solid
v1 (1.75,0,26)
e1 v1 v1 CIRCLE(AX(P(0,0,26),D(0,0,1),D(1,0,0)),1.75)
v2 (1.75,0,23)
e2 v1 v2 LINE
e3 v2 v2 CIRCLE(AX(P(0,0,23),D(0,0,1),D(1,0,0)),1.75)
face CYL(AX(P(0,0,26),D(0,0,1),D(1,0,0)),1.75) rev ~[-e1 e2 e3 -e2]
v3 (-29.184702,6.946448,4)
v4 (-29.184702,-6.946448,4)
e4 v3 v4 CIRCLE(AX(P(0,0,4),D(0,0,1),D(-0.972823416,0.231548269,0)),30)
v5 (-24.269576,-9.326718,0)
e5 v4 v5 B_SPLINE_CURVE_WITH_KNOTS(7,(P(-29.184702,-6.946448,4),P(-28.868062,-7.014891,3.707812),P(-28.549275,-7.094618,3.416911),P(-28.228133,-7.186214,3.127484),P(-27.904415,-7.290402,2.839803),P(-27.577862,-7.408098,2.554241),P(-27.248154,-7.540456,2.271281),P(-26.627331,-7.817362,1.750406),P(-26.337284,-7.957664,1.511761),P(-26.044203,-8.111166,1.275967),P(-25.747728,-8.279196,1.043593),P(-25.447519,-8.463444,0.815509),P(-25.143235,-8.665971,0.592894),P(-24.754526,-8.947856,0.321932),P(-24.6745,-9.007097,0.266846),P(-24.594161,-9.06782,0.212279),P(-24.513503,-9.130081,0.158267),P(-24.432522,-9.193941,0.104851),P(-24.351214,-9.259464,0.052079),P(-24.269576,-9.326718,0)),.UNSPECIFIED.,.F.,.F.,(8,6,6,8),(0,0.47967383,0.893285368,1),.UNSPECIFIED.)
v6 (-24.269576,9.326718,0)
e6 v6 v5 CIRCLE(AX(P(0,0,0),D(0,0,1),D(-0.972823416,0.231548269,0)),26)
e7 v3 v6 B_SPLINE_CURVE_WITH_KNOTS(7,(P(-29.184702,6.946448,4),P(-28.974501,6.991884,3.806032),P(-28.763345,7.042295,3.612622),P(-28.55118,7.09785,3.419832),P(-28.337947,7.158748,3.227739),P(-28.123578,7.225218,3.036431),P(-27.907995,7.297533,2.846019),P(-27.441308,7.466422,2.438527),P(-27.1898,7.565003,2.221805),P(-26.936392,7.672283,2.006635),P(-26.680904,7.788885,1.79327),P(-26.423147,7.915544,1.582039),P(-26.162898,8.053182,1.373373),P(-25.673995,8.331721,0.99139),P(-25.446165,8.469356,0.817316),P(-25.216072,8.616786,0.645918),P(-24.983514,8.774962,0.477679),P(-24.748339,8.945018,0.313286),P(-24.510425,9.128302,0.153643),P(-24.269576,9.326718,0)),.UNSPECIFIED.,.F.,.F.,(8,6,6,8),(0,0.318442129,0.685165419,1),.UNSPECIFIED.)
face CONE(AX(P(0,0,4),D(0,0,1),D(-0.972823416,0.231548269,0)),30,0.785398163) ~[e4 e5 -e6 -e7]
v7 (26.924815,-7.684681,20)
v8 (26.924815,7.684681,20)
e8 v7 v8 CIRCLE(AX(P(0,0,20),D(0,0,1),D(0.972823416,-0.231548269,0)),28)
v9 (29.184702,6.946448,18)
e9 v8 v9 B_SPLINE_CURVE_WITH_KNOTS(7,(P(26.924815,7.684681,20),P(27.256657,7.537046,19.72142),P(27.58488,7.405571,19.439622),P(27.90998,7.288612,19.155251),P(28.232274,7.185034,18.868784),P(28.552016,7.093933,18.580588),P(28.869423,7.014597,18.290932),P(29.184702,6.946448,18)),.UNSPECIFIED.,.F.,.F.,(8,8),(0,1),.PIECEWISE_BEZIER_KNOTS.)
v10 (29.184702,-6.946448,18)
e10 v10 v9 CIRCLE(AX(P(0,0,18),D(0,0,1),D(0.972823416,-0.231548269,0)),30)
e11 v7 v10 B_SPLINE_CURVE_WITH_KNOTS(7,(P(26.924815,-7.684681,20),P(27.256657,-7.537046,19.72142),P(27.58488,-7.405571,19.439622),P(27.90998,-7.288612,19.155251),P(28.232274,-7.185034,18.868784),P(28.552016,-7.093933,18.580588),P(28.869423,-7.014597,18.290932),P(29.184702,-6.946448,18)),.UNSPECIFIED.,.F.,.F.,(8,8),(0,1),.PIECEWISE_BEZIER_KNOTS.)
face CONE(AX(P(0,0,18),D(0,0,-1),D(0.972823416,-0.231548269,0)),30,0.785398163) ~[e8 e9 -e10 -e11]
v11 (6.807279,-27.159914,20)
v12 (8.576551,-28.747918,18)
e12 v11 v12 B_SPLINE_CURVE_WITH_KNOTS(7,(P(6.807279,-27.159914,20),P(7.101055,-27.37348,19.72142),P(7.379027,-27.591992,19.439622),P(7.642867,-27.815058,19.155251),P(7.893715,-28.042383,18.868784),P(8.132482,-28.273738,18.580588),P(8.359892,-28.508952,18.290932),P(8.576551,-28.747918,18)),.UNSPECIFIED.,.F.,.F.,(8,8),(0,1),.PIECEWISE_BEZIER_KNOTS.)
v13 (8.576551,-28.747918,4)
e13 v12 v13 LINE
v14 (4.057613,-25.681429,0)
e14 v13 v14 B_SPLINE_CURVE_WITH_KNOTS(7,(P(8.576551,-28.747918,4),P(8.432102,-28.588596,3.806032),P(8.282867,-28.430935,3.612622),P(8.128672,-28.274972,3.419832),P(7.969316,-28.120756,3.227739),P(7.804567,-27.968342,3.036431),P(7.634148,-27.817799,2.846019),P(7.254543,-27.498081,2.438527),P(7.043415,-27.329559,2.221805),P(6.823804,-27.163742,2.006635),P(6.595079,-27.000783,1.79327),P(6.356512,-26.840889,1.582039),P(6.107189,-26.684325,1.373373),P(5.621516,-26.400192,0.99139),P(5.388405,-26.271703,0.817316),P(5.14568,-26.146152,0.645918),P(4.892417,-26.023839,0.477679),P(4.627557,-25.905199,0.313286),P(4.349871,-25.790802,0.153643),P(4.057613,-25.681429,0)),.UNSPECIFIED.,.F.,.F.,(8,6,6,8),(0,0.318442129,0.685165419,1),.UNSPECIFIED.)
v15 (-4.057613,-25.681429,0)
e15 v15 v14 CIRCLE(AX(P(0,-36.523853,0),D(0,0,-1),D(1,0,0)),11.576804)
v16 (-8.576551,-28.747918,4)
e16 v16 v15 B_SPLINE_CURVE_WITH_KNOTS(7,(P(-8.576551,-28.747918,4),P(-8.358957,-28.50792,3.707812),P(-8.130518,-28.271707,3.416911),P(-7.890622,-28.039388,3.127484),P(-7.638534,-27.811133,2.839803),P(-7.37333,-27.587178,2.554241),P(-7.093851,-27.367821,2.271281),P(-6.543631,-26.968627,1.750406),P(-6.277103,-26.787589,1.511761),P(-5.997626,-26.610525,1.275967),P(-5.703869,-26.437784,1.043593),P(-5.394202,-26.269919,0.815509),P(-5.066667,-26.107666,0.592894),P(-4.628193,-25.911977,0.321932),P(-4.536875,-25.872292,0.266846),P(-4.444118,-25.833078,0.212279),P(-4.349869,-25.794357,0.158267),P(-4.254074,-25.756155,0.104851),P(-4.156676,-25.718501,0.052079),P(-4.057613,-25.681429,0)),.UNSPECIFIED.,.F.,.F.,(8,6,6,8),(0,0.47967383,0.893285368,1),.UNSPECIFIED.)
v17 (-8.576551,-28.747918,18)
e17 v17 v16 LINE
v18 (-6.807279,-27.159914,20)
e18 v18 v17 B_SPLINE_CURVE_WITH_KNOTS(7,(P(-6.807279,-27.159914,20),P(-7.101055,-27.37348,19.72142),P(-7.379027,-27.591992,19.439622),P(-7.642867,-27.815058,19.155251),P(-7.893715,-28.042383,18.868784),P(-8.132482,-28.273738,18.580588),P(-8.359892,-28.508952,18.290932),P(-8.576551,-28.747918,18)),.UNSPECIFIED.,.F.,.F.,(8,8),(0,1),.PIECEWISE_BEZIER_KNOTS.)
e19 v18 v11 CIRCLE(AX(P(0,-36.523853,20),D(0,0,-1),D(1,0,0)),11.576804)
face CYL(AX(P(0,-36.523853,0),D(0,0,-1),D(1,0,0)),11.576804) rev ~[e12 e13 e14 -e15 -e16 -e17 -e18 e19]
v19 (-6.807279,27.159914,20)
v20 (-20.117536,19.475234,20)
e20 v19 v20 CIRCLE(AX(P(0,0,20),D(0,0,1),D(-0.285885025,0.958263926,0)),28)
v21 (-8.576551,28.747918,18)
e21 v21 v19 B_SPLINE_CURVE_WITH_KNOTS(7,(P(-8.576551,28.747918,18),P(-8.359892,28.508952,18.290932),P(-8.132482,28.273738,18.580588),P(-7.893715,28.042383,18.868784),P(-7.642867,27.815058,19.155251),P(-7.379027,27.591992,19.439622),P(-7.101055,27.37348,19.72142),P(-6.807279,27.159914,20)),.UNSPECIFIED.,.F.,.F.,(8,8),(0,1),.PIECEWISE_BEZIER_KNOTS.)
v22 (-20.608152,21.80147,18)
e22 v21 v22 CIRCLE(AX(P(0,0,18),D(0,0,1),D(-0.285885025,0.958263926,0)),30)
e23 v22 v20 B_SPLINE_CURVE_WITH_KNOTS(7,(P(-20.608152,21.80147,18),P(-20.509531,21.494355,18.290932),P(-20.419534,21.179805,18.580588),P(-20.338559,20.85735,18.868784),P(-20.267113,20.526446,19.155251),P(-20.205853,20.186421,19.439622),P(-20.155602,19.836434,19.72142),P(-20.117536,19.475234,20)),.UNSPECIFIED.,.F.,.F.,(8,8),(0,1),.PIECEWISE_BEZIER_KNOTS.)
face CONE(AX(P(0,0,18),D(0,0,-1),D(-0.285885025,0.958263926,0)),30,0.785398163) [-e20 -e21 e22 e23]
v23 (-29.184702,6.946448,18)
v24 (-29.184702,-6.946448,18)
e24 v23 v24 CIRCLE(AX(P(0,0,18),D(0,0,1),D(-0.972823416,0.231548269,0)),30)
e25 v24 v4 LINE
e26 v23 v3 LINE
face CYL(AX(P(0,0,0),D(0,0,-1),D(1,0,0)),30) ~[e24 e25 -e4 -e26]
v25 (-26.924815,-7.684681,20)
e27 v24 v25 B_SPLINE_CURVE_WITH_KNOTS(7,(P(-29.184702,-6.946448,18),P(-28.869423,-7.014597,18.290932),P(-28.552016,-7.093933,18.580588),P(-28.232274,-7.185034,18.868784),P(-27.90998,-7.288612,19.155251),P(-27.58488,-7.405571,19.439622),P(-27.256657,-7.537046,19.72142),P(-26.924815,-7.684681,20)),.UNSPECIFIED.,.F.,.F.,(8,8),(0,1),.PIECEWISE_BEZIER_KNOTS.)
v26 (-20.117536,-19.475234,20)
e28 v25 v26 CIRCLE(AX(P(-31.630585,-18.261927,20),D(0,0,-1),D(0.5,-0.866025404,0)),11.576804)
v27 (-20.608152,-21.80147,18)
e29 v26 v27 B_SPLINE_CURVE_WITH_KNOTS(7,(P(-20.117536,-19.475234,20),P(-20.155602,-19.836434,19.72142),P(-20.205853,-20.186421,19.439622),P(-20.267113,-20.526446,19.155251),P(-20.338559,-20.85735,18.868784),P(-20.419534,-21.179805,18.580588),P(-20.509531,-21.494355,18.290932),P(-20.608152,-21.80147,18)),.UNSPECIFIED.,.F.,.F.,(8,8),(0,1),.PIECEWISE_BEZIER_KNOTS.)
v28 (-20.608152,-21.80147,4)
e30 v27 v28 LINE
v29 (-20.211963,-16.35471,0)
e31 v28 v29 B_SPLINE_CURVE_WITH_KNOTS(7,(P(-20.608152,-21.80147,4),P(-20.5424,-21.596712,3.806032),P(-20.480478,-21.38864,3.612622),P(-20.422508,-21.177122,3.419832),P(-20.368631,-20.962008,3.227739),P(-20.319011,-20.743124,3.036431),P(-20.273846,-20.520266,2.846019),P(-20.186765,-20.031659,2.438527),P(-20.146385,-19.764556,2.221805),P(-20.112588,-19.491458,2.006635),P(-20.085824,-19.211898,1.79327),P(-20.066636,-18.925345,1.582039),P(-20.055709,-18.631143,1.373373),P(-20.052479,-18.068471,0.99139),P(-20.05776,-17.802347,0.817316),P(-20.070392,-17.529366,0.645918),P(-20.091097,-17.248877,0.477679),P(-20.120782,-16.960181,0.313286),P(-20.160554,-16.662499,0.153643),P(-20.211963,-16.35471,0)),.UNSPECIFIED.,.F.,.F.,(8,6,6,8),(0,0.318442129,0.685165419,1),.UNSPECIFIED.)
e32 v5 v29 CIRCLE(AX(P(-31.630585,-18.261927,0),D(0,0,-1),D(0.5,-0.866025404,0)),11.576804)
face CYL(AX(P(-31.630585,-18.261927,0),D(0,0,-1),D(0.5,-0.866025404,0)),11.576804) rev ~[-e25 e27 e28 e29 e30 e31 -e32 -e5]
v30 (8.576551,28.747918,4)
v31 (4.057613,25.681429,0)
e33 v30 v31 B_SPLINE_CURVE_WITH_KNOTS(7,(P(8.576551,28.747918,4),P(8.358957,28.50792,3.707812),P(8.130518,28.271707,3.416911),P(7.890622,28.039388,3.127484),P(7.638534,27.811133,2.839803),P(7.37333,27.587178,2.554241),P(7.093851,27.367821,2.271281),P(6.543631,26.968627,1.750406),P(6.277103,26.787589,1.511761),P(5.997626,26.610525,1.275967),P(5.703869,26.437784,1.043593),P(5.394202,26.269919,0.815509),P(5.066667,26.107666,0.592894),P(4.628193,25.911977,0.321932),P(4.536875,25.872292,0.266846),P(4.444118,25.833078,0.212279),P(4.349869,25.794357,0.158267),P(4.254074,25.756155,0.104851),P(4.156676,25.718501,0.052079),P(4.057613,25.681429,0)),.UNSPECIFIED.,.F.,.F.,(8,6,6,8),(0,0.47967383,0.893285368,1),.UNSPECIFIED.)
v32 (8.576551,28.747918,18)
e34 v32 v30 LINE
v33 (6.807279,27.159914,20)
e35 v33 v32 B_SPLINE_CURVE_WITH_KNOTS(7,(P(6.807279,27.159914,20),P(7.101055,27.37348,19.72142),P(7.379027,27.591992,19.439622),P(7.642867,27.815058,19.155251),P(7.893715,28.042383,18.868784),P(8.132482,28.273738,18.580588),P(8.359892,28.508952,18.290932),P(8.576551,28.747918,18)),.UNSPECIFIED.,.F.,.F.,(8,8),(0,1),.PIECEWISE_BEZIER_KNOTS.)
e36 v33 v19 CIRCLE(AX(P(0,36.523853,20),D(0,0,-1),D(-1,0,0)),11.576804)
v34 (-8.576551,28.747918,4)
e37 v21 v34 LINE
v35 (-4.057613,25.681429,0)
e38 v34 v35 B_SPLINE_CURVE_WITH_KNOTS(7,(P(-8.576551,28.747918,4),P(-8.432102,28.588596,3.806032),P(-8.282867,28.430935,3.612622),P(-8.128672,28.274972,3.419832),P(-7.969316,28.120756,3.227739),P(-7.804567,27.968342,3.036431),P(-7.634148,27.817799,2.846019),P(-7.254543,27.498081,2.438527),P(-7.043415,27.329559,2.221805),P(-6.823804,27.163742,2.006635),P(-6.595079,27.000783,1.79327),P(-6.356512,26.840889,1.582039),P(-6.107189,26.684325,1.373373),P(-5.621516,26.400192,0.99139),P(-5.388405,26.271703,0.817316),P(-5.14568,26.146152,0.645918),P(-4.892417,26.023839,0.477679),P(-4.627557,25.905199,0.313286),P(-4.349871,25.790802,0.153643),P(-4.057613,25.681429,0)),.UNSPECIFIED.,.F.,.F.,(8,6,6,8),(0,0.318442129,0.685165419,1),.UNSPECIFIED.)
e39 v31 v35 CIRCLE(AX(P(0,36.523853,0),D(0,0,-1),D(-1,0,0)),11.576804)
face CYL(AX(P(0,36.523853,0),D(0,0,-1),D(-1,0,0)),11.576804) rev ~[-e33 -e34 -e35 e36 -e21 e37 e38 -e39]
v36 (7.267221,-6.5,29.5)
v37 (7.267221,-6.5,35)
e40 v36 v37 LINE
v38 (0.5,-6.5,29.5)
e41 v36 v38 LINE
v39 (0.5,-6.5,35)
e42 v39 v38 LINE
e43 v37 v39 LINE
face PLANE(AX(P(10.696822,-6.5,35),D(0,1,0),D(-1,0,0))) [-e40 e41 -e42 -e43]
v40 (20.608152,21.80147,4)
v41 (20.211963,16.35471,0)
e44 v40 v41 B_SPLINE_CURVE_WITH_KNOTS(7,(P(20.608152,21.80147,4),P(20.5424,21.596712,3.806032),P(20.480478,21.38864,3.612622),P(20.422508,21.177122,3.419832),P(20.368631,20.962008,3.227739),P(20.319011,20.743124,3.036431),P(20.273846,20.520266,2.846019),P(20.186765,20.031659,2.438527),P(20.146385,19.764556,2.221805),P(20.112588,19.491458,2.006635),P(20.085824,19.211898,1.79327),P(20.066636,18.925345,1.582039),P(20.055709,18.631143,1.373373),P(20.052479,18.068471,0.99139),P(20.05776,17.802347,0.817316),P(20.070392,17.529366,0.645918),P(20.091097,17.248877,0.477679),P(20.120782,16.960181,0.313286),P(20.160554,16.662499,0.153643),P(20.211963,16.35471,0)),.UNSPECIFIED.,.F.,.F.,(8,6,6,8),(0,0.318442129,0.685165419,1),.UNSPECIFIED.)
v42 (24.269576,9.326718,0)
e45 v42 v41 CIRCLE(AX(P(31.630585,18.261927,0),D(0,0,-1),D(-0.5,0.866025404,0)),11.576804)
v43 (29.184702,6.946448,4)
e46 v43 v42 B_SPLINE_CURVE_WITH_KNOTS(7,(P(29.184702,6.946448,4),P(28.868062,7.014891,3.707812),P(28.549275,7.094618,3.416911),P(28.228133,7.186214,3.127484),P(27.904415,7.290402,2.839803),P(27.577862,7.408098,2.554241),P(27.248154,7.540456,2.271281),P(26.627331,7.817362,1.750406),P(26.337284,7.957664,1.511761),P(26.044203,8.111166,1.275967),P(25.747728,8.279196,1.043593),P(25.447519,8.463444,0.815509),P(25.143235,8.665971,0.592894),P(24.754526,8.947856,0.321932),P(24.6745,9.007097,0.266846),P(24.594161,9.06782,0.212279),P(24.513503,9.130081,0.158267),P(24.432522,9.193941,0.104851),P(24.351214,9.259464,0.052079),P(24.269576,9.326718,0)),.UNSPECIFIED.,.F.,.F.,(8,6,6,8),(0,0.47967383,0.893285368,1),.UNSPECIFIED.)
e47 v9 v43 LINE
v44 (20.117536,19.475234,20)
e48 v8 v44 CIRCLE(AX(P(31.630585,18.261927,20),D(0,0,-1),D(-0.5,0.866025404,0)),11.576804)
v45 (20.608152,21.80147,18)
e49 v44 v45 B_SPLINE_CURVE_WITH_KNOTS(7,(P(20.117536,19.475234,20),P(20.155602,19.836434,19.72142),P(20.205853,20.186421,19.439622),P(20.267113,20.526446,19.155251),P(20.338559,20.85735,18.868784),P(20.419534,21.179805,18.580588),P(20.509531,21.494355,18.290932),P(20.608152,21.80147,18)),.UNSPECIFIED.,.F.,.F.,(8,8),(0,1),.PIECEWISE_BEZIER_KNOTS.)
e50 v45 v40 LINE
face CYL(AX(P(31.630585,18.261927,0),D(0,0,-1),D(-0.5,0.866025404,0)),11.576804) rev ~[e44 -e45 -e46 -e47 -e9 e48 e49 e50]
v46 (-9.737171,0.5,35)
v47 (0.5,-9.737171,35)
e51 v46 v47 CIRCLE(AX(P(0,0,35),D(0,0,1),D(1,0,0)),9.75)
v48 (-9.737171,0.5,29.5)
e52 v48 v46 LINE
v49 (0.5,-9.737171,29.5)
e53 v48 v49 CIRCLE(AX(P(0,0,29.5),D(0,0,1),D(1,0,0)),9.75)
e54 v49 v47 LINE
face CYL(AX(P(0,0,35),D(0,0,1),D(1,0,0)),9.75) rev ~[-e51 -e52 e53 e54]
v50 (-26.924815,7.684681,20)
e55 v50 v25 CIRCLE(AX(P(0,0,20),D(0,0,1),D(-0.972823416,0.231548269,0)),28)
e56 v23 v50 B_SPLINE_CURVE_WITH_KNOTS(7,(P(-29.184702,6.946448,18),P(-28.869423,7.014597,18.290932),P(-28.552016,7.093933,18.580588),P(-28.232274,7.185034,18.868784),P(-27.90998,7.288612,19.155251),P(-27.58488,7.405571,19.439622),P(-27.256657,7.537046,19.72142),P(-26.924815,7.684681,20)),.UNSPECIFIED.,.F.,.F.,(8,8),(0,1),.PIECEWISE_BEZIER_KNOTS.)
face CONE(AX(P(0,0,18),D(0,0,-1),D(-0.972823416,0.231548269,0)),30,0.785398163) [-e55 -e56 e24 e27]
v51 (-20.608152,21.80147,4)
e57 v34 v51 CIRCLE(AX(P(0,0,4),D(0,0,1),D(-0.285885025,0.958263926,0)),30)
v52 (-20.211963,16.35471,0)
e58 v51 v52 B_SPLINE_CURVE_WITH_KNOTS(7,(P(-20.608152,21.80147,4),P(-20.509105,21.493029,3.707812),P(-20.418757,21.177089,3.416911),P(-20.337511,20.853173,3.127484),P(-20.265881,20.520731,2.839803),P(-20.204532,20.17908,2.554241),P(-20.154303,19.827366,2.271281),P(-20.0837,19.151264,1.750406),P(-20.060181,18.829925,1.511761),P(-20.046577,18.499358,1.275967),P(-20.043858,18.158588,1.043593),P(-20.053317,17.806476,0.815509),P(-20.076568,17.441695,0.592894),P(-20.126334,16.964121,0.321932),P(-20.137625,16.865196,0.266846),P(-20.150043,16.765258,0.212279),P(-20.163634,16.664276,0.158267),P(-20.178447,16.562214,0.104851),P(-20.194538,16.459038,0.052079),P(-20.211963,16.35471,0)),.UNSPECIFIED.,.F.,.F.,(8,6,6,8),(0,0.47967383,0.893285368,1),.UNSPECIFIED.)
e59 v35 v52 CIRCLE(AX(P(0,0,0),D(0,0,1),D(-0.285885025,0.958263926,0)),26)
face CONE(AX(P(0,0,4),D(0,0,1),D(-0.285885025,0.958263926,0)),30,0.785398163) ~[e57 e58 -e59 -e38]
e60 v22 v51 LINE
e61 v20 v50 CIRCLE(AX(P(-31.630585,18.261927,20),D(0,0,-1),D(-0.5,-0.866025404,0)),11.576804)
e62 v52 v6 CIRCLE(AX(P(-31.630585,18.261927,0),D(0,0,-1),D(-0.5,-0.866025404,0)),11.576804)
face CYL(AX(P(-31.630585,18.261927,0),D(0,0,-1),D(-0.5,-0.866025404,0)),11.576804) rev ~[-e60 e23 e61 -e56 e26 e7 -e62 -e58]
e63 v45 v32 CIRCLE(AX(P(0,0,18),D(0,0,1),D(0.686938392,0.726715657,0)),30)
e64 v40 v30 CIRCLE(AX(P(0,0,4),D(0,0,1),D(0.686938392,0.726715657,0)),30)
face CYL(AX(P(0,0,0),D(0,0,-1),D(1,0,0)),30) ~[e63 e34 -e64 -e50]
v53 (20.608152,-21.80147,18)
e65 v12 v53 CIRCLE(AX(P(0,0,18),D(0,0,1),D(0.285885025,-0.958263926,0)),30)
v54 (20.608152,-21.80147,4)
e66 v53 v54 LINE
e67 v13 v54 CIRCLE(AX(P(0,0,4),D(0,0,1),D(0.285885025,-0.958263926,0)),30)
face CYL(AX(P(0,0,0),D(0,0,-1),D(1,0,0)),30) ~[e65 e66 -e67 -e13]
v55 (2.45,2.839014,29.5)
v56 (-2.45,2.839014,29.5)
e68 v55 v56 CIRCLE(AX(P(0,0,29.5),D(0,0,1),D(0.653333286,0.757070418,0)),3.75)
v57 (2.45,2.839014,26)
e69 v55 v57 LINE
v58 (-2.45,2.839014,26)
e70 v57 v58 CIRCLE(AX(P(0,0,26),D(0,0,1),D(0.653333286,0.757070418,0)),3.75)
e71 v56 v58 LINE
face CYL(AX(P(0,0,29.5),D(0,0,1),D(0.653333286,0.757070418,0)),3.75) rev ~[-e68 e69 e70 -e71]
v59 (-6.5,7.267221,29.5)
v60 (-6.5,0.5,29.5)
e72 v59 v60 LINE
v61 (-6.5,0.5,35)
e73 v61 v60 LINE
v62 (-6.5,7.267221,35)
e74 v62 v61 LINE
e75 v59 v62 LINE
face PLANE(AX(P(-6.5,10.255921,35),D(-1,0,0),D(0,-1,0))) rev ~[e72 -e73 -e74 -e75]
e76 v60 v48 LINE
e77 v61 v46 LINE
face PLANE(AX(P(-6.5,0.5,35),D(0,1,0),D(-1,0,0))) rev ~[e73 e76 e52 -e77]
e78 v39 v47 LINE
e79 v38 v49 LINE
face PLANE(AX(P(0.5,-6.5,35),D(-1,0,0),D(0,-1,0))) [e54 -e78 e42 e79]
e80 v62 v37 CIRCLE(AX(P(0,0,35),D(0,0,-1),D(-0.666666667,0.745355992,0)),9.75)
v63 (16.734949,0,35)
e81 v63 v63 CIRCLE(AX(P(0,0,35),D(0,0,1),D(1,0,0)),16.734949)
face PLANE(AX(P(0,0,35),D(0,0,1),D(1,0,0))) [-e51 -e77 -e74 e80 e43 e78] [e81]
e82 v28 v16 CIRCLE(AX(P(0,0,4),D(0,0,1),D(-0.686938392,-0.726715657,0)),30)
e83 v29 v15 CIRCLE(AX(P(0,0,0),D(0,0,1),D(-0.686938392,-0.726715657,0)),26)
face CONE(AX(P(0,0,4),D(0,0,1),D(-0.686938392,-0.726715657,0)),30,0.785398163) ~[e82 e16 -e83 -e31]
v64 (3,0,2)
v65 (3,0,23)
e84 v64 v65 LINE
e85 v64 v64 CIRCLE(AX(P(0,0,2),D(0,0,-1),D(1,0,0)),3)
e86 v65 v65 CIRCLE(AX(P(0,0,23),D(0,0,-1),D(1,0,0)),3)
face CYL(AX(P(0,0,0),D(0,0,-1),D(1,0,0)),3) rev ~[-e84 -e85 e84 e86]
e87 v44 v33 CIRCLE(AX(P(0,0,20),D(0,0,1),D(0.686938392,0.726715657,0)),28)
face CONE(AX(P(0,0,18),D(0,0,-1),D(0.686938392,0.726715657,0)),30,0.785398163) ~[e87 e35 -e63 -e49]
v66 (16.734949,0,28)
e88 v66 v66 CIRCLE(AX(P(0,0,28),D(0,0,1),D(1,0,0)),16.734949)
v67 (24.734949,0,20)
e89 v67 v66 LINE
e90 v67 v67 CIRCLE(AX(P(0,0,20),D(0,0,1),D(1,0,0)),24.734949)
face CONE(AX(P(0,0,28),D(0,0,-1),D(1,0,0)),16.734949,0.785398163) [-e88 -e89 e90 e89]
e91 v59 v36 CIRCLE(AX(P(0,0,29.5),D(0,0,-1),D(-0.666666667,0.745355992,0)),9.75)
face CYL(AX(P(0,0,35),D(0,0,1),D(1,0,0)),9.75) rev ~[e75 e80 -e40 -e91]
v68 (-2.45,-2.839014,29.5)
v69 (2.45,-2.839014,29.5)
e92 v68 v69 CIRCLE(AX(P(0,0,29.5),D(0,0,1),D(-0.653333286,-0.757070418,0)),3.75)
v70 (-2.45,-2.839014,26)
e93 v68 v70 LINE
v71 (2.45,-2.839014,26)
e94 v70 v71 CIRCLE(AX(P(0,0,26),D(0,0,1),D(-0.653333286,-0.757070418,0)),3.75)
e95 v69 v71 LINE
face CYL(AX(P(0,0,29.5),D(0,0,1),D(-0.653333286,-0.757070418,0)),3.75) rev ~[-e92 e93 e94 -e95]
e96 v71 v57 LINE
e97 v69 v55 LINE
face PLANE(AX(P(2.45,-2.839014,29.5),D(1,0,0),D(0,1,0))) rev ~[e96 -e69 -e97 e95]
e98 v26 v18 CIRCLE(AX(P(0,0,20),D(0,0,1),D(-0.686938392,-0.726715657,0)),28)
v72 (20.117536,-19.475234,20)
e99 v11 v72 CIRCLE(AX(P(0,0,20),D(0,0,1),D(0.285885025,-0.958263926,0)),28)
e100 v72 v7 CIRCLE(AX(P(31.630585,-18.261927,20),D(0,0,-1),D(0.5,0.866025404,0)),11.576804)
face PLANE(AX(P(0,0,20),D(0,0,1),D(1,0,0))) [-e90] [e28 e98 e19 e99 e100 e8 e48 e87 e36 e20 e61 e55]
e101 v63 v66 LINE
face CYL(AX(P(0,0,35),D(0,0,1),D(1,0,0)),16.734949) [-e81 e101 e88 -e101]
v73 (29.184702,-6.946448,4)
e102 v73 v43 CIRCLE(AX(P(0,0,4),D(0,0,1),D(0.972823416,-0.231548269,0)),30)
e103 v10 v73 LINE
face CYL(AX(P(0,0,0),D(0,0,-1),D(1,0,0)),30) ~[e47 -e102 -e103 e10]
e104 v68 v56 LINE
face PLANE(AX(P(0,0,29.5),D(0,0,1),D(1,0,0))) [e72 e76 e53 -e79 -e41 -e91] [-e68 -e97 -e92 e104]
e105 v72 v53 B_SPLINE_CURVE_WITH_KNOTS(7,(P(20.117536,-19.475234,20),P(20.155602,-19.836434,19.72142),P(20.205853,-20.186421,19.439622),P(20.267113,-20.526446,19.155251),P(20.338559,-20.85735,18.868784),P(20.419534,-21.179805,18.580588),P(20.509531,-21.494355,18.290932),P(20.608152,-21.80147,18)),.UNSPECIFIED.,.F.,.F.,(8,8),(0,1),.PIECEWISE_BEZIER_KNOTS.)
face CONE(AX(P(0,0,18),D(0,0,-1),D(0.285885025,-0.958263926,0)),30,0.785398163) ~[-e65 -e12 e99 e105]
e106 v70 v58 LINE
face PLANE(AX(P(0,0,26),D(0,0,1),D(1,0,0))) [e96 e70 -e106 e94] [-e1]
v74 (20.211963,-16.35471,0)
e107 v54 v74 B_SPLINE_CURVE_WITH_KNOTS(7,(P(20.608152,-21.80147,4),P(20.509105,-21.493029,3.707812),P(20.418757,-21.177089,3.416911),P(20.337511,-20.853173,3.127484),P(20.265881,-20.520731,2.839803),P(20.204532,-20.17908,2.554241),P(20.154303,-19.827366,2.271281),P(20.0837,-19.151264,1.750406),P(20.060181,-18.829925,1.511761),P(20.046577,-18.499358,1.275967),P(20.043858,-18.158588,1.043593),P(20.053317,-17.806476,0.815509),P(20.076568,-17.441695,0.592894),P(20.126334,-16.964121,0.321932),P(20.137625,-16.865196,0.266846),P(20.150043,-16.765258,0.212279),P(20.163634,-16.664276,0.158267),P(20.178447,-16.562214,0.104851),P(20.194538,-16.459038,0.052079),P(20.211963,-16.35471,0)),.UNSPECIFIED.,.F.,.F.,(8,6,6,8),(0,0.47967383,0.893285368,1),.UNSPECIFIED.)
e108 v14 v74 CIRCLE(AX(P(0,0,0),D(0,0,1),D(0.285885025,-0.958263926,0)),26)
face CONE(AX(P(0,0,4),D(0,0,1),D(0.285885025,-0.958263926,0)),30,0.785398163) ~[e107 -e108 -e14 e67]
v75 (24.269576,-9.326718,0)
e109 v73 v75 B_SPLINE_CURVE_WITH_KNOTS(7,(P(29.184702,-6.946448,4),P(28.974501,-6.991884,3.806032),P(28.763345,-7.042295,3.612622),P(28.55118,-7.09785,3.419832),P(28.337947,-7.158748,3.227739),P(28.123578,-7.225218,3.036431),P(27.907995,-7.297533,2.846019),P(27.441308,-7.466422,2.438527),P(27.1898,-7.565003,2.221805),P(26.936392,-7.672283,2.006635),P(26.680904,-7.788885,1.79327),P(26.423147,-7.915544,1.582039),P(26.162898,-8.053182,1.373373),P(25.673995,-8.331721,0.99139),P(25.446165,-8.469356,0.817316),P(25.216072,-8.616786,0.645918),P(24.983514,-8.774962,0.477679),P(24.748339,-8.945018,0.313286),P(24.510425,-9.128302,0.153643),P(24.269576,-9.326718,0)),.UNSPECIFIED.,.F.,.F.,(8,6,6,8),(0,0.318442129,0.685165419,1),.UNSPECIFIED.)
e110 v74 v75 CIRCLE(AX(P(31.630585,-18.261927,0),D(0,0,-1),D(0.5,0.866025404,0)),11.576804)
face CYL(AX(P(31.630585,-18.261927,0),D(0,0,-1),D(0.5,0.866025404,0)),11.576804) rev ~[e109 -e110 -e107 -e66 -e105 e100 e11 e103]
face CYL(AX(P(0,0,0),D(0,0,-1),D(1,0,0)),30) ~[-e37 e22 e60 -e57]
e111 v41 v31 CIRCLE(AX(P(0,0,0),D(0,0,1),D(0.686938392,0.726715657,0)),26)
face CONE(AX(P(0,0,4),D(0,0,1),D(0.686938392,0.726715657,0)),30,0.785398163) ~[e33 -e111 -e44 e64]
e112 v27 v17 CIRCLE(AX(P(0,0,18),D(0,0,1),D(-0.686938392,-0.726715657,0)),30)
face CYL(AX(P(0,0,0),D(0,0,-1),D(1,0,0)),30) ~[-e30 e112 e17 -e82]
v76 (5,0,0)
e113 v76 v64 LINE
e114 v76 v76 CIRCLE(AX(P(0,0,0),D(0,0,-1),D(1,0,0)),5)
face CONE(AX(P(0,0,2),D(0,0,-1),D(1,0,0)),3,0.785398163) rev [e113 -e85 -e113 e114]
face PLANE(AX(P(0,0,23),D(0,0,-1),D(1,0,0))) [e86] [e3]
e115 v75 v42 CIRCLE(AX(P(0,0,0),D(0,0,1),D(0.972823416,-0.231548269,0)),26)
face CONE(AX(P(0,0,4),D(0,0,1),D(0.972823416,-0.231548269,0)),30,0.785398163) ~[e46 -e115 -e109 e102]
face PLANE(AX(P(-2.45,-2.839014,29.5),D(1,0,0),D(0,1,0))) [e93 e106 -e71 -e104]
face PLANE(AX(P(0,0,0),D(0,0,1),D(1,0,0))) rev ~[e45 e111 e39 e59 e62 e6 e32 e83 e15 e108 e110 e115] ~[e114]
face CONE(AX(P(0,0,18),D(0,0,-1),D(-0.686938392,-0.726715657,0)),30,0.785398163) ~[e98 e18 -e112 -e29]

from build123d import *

# Parameters (mm, degrees)
SKETCH_R           = 30
PAD_DEPTH          = 35
SKETCH001_R        = 9.75
POCKET_DEPTH       = 5.5
POCKET001_DEPTH    = 3.5
SKETCH003_R        = 1.75
POCKET002_DEPTH    = 26.001
PAD001_DEPTH       = 9
SKETCH006_R        = 36.546669
SKETCH006_R_2      = 16.734949
POCKET003_DEPTH    = 15
SKETCH008_R        = 11.576804
POCKET004_DEPTH    = 218.576598
POLARPATTERN_COUNT = 6
CHAMFER_SIZE       = 4
CHAMFER001_SIZE    = 2
SKETCH009_R        = 3
POCKET005_DEPTH    = 23
CHAMFER002_SIZE    = 2
CHAMFER003_SIZE    = 8


with BuildPart() as part:
    # Sketch → Pad (new body)
    with BuildSketch(Plane.XY):
        Circle(SKETCH_R)
    extrude(amount=PAD_DEPTH)

    # Sketch001 (on Face3 of Pad) → Pocket (cut)
    with BuildSketch(Plane.XY.offset(35)):
        Circle(SKETCH001_R)
    extrude(amount=-POCKET_DEPTH, mode=Mode.SUBTRACT)

    # Sketch002 (on Face5 of Pocket) → Pocket001 (cut)
    with BuildSketch(Plane.XY.offset(29.5)):
        with BuildLine():
            Line((2.45, -2.839014), (2.45, 2.839014))
            ThreePointArc((2.45, 2.839014), (0, 3.75), (-2.45, 2.839014))
            Line((-2.45, -2.839014), (-2.45, 2.839014))
            ThreePointArc((-2.45, -2.839014), (0, -3.75), (2.45, -2.839014))
        make_face()
    extrude(amount=-POCKET001_DEPTH, mode=Mode.SUBTRACT)

    # Sketch003 (on Face10 of Pocket001) → Pocket002 (cut, through all)
    with BuildSketch(Plane.XY.offset(26)):
        Circle(SKETCH003_R)
    extrude(amount=-POCKET002_DEPTH, mode=Mode.SUBTRACT)

    # Sketch004 (on Face3 of Pocket002) → Pad001 (join)
    with BuildSketch(Plane.XY.offset(35)):
        Polygon((-6.5, 10.255921), (-6.5, 0.5), (-12.416934, 0.5), align=None)
        Polygon((0.5, -6.5), (0.5, -15.116689), (10.696822, -6.5), align=None)
    extrude(amount=-PAD001_DEPTH)

    # Sketch006 (on Face3 of Pad001) → Pocket003 (cut)
    with BuildSketch(Plane.XY.offset(35)):
        Circle(SKETCH006_R)
        Circle(SKETCH006_R_2, mode=Mode.SUBTRACT)
    extrude(amount=-POCKET003_DEPTH, mode=Mode.SUBTRACT)

    # Sketch008 (on Face2 of Pocket003) → Pocket004 (cut, through all)
    with BuildSketch(Plane(origin=(0, 0, 0), x_dir=(1, 0, 0), z_dir=(0, 0, -1))):
        with Locations((0, 36.523853)):
            Circle(SKETCH008_R)
    pocket004 = extrude(amount=-POCKET004_DEPTH, mode=Mode.SUBTRACT)

    # PolarPattern: Pocket004 ×6 about axis
    polarpattern_axis = Axis((0, 0, 0), (0, 0, -1))
    for i in range(1, POLARPATTERN_COUNT):
        add(pocket004.rotate(polarpattern_axis, i * 360 / POLARPATTERN_COUNT), mode=Mode.SUBTRACT)

    # Chamfer
    chamfer_edges = [part.edges().sort_by_distance(p)[0] for p in [
        (15, -25.980762, 0),
        (-15, -25.980762, 0),
        (-30, 0, 0),
        (-15, 25.980762, 0),
        (15, 25.980762, 0),
        (29.795478, 3.497065, 0),
    ]]
    chamfer(chamfer_edges, length=CHAMFER_SIZE)

    # Chamfer001
    chamfer001_edges = [part.edges().sort_by_distance(p)[0] for p in [
        (29.795478, -3.497065, 20),
        (15, -25.980762, 20),
        (15, 25.980762, 20),
        (-15, 25.980762, 20),
        (-15, -25.980762, 20),
        (-30, 0, 20),
    ]]
    chamfer(chamfer001_edges, length=CHAMFER001_SIZE)

    # Sketch009 (on Face10 of Chamfer001) → Pocket005 (cut)
    with BuildSketch(Plane(origin=(0, 0, 0), x_dir=(1, 0, 0), z_dir=(0, 0, -1))):
        Circle(SKETCH009_R)
    extrude(amount=-POCKET005_DEPTH, mode=Mode.SUBTRACT)

    # Chamfer002
    chamfer002_edges = [part.edges().sort_by_distance(p)[0] for p in [
        (-3, 0, 0),
    ]]
    chamfer(chamfer002_edges, length=CHAMFER002_SIZE)

    # Chamfer003
    chamfer003_edges = [part.edges().sort_by_distance(p)[0] for p in [
        (-16.734949, 0, 20),
    ]]
    chamfer(chamfer003_edges, length=CHAMFER003_SIZE)


solid = part.part
